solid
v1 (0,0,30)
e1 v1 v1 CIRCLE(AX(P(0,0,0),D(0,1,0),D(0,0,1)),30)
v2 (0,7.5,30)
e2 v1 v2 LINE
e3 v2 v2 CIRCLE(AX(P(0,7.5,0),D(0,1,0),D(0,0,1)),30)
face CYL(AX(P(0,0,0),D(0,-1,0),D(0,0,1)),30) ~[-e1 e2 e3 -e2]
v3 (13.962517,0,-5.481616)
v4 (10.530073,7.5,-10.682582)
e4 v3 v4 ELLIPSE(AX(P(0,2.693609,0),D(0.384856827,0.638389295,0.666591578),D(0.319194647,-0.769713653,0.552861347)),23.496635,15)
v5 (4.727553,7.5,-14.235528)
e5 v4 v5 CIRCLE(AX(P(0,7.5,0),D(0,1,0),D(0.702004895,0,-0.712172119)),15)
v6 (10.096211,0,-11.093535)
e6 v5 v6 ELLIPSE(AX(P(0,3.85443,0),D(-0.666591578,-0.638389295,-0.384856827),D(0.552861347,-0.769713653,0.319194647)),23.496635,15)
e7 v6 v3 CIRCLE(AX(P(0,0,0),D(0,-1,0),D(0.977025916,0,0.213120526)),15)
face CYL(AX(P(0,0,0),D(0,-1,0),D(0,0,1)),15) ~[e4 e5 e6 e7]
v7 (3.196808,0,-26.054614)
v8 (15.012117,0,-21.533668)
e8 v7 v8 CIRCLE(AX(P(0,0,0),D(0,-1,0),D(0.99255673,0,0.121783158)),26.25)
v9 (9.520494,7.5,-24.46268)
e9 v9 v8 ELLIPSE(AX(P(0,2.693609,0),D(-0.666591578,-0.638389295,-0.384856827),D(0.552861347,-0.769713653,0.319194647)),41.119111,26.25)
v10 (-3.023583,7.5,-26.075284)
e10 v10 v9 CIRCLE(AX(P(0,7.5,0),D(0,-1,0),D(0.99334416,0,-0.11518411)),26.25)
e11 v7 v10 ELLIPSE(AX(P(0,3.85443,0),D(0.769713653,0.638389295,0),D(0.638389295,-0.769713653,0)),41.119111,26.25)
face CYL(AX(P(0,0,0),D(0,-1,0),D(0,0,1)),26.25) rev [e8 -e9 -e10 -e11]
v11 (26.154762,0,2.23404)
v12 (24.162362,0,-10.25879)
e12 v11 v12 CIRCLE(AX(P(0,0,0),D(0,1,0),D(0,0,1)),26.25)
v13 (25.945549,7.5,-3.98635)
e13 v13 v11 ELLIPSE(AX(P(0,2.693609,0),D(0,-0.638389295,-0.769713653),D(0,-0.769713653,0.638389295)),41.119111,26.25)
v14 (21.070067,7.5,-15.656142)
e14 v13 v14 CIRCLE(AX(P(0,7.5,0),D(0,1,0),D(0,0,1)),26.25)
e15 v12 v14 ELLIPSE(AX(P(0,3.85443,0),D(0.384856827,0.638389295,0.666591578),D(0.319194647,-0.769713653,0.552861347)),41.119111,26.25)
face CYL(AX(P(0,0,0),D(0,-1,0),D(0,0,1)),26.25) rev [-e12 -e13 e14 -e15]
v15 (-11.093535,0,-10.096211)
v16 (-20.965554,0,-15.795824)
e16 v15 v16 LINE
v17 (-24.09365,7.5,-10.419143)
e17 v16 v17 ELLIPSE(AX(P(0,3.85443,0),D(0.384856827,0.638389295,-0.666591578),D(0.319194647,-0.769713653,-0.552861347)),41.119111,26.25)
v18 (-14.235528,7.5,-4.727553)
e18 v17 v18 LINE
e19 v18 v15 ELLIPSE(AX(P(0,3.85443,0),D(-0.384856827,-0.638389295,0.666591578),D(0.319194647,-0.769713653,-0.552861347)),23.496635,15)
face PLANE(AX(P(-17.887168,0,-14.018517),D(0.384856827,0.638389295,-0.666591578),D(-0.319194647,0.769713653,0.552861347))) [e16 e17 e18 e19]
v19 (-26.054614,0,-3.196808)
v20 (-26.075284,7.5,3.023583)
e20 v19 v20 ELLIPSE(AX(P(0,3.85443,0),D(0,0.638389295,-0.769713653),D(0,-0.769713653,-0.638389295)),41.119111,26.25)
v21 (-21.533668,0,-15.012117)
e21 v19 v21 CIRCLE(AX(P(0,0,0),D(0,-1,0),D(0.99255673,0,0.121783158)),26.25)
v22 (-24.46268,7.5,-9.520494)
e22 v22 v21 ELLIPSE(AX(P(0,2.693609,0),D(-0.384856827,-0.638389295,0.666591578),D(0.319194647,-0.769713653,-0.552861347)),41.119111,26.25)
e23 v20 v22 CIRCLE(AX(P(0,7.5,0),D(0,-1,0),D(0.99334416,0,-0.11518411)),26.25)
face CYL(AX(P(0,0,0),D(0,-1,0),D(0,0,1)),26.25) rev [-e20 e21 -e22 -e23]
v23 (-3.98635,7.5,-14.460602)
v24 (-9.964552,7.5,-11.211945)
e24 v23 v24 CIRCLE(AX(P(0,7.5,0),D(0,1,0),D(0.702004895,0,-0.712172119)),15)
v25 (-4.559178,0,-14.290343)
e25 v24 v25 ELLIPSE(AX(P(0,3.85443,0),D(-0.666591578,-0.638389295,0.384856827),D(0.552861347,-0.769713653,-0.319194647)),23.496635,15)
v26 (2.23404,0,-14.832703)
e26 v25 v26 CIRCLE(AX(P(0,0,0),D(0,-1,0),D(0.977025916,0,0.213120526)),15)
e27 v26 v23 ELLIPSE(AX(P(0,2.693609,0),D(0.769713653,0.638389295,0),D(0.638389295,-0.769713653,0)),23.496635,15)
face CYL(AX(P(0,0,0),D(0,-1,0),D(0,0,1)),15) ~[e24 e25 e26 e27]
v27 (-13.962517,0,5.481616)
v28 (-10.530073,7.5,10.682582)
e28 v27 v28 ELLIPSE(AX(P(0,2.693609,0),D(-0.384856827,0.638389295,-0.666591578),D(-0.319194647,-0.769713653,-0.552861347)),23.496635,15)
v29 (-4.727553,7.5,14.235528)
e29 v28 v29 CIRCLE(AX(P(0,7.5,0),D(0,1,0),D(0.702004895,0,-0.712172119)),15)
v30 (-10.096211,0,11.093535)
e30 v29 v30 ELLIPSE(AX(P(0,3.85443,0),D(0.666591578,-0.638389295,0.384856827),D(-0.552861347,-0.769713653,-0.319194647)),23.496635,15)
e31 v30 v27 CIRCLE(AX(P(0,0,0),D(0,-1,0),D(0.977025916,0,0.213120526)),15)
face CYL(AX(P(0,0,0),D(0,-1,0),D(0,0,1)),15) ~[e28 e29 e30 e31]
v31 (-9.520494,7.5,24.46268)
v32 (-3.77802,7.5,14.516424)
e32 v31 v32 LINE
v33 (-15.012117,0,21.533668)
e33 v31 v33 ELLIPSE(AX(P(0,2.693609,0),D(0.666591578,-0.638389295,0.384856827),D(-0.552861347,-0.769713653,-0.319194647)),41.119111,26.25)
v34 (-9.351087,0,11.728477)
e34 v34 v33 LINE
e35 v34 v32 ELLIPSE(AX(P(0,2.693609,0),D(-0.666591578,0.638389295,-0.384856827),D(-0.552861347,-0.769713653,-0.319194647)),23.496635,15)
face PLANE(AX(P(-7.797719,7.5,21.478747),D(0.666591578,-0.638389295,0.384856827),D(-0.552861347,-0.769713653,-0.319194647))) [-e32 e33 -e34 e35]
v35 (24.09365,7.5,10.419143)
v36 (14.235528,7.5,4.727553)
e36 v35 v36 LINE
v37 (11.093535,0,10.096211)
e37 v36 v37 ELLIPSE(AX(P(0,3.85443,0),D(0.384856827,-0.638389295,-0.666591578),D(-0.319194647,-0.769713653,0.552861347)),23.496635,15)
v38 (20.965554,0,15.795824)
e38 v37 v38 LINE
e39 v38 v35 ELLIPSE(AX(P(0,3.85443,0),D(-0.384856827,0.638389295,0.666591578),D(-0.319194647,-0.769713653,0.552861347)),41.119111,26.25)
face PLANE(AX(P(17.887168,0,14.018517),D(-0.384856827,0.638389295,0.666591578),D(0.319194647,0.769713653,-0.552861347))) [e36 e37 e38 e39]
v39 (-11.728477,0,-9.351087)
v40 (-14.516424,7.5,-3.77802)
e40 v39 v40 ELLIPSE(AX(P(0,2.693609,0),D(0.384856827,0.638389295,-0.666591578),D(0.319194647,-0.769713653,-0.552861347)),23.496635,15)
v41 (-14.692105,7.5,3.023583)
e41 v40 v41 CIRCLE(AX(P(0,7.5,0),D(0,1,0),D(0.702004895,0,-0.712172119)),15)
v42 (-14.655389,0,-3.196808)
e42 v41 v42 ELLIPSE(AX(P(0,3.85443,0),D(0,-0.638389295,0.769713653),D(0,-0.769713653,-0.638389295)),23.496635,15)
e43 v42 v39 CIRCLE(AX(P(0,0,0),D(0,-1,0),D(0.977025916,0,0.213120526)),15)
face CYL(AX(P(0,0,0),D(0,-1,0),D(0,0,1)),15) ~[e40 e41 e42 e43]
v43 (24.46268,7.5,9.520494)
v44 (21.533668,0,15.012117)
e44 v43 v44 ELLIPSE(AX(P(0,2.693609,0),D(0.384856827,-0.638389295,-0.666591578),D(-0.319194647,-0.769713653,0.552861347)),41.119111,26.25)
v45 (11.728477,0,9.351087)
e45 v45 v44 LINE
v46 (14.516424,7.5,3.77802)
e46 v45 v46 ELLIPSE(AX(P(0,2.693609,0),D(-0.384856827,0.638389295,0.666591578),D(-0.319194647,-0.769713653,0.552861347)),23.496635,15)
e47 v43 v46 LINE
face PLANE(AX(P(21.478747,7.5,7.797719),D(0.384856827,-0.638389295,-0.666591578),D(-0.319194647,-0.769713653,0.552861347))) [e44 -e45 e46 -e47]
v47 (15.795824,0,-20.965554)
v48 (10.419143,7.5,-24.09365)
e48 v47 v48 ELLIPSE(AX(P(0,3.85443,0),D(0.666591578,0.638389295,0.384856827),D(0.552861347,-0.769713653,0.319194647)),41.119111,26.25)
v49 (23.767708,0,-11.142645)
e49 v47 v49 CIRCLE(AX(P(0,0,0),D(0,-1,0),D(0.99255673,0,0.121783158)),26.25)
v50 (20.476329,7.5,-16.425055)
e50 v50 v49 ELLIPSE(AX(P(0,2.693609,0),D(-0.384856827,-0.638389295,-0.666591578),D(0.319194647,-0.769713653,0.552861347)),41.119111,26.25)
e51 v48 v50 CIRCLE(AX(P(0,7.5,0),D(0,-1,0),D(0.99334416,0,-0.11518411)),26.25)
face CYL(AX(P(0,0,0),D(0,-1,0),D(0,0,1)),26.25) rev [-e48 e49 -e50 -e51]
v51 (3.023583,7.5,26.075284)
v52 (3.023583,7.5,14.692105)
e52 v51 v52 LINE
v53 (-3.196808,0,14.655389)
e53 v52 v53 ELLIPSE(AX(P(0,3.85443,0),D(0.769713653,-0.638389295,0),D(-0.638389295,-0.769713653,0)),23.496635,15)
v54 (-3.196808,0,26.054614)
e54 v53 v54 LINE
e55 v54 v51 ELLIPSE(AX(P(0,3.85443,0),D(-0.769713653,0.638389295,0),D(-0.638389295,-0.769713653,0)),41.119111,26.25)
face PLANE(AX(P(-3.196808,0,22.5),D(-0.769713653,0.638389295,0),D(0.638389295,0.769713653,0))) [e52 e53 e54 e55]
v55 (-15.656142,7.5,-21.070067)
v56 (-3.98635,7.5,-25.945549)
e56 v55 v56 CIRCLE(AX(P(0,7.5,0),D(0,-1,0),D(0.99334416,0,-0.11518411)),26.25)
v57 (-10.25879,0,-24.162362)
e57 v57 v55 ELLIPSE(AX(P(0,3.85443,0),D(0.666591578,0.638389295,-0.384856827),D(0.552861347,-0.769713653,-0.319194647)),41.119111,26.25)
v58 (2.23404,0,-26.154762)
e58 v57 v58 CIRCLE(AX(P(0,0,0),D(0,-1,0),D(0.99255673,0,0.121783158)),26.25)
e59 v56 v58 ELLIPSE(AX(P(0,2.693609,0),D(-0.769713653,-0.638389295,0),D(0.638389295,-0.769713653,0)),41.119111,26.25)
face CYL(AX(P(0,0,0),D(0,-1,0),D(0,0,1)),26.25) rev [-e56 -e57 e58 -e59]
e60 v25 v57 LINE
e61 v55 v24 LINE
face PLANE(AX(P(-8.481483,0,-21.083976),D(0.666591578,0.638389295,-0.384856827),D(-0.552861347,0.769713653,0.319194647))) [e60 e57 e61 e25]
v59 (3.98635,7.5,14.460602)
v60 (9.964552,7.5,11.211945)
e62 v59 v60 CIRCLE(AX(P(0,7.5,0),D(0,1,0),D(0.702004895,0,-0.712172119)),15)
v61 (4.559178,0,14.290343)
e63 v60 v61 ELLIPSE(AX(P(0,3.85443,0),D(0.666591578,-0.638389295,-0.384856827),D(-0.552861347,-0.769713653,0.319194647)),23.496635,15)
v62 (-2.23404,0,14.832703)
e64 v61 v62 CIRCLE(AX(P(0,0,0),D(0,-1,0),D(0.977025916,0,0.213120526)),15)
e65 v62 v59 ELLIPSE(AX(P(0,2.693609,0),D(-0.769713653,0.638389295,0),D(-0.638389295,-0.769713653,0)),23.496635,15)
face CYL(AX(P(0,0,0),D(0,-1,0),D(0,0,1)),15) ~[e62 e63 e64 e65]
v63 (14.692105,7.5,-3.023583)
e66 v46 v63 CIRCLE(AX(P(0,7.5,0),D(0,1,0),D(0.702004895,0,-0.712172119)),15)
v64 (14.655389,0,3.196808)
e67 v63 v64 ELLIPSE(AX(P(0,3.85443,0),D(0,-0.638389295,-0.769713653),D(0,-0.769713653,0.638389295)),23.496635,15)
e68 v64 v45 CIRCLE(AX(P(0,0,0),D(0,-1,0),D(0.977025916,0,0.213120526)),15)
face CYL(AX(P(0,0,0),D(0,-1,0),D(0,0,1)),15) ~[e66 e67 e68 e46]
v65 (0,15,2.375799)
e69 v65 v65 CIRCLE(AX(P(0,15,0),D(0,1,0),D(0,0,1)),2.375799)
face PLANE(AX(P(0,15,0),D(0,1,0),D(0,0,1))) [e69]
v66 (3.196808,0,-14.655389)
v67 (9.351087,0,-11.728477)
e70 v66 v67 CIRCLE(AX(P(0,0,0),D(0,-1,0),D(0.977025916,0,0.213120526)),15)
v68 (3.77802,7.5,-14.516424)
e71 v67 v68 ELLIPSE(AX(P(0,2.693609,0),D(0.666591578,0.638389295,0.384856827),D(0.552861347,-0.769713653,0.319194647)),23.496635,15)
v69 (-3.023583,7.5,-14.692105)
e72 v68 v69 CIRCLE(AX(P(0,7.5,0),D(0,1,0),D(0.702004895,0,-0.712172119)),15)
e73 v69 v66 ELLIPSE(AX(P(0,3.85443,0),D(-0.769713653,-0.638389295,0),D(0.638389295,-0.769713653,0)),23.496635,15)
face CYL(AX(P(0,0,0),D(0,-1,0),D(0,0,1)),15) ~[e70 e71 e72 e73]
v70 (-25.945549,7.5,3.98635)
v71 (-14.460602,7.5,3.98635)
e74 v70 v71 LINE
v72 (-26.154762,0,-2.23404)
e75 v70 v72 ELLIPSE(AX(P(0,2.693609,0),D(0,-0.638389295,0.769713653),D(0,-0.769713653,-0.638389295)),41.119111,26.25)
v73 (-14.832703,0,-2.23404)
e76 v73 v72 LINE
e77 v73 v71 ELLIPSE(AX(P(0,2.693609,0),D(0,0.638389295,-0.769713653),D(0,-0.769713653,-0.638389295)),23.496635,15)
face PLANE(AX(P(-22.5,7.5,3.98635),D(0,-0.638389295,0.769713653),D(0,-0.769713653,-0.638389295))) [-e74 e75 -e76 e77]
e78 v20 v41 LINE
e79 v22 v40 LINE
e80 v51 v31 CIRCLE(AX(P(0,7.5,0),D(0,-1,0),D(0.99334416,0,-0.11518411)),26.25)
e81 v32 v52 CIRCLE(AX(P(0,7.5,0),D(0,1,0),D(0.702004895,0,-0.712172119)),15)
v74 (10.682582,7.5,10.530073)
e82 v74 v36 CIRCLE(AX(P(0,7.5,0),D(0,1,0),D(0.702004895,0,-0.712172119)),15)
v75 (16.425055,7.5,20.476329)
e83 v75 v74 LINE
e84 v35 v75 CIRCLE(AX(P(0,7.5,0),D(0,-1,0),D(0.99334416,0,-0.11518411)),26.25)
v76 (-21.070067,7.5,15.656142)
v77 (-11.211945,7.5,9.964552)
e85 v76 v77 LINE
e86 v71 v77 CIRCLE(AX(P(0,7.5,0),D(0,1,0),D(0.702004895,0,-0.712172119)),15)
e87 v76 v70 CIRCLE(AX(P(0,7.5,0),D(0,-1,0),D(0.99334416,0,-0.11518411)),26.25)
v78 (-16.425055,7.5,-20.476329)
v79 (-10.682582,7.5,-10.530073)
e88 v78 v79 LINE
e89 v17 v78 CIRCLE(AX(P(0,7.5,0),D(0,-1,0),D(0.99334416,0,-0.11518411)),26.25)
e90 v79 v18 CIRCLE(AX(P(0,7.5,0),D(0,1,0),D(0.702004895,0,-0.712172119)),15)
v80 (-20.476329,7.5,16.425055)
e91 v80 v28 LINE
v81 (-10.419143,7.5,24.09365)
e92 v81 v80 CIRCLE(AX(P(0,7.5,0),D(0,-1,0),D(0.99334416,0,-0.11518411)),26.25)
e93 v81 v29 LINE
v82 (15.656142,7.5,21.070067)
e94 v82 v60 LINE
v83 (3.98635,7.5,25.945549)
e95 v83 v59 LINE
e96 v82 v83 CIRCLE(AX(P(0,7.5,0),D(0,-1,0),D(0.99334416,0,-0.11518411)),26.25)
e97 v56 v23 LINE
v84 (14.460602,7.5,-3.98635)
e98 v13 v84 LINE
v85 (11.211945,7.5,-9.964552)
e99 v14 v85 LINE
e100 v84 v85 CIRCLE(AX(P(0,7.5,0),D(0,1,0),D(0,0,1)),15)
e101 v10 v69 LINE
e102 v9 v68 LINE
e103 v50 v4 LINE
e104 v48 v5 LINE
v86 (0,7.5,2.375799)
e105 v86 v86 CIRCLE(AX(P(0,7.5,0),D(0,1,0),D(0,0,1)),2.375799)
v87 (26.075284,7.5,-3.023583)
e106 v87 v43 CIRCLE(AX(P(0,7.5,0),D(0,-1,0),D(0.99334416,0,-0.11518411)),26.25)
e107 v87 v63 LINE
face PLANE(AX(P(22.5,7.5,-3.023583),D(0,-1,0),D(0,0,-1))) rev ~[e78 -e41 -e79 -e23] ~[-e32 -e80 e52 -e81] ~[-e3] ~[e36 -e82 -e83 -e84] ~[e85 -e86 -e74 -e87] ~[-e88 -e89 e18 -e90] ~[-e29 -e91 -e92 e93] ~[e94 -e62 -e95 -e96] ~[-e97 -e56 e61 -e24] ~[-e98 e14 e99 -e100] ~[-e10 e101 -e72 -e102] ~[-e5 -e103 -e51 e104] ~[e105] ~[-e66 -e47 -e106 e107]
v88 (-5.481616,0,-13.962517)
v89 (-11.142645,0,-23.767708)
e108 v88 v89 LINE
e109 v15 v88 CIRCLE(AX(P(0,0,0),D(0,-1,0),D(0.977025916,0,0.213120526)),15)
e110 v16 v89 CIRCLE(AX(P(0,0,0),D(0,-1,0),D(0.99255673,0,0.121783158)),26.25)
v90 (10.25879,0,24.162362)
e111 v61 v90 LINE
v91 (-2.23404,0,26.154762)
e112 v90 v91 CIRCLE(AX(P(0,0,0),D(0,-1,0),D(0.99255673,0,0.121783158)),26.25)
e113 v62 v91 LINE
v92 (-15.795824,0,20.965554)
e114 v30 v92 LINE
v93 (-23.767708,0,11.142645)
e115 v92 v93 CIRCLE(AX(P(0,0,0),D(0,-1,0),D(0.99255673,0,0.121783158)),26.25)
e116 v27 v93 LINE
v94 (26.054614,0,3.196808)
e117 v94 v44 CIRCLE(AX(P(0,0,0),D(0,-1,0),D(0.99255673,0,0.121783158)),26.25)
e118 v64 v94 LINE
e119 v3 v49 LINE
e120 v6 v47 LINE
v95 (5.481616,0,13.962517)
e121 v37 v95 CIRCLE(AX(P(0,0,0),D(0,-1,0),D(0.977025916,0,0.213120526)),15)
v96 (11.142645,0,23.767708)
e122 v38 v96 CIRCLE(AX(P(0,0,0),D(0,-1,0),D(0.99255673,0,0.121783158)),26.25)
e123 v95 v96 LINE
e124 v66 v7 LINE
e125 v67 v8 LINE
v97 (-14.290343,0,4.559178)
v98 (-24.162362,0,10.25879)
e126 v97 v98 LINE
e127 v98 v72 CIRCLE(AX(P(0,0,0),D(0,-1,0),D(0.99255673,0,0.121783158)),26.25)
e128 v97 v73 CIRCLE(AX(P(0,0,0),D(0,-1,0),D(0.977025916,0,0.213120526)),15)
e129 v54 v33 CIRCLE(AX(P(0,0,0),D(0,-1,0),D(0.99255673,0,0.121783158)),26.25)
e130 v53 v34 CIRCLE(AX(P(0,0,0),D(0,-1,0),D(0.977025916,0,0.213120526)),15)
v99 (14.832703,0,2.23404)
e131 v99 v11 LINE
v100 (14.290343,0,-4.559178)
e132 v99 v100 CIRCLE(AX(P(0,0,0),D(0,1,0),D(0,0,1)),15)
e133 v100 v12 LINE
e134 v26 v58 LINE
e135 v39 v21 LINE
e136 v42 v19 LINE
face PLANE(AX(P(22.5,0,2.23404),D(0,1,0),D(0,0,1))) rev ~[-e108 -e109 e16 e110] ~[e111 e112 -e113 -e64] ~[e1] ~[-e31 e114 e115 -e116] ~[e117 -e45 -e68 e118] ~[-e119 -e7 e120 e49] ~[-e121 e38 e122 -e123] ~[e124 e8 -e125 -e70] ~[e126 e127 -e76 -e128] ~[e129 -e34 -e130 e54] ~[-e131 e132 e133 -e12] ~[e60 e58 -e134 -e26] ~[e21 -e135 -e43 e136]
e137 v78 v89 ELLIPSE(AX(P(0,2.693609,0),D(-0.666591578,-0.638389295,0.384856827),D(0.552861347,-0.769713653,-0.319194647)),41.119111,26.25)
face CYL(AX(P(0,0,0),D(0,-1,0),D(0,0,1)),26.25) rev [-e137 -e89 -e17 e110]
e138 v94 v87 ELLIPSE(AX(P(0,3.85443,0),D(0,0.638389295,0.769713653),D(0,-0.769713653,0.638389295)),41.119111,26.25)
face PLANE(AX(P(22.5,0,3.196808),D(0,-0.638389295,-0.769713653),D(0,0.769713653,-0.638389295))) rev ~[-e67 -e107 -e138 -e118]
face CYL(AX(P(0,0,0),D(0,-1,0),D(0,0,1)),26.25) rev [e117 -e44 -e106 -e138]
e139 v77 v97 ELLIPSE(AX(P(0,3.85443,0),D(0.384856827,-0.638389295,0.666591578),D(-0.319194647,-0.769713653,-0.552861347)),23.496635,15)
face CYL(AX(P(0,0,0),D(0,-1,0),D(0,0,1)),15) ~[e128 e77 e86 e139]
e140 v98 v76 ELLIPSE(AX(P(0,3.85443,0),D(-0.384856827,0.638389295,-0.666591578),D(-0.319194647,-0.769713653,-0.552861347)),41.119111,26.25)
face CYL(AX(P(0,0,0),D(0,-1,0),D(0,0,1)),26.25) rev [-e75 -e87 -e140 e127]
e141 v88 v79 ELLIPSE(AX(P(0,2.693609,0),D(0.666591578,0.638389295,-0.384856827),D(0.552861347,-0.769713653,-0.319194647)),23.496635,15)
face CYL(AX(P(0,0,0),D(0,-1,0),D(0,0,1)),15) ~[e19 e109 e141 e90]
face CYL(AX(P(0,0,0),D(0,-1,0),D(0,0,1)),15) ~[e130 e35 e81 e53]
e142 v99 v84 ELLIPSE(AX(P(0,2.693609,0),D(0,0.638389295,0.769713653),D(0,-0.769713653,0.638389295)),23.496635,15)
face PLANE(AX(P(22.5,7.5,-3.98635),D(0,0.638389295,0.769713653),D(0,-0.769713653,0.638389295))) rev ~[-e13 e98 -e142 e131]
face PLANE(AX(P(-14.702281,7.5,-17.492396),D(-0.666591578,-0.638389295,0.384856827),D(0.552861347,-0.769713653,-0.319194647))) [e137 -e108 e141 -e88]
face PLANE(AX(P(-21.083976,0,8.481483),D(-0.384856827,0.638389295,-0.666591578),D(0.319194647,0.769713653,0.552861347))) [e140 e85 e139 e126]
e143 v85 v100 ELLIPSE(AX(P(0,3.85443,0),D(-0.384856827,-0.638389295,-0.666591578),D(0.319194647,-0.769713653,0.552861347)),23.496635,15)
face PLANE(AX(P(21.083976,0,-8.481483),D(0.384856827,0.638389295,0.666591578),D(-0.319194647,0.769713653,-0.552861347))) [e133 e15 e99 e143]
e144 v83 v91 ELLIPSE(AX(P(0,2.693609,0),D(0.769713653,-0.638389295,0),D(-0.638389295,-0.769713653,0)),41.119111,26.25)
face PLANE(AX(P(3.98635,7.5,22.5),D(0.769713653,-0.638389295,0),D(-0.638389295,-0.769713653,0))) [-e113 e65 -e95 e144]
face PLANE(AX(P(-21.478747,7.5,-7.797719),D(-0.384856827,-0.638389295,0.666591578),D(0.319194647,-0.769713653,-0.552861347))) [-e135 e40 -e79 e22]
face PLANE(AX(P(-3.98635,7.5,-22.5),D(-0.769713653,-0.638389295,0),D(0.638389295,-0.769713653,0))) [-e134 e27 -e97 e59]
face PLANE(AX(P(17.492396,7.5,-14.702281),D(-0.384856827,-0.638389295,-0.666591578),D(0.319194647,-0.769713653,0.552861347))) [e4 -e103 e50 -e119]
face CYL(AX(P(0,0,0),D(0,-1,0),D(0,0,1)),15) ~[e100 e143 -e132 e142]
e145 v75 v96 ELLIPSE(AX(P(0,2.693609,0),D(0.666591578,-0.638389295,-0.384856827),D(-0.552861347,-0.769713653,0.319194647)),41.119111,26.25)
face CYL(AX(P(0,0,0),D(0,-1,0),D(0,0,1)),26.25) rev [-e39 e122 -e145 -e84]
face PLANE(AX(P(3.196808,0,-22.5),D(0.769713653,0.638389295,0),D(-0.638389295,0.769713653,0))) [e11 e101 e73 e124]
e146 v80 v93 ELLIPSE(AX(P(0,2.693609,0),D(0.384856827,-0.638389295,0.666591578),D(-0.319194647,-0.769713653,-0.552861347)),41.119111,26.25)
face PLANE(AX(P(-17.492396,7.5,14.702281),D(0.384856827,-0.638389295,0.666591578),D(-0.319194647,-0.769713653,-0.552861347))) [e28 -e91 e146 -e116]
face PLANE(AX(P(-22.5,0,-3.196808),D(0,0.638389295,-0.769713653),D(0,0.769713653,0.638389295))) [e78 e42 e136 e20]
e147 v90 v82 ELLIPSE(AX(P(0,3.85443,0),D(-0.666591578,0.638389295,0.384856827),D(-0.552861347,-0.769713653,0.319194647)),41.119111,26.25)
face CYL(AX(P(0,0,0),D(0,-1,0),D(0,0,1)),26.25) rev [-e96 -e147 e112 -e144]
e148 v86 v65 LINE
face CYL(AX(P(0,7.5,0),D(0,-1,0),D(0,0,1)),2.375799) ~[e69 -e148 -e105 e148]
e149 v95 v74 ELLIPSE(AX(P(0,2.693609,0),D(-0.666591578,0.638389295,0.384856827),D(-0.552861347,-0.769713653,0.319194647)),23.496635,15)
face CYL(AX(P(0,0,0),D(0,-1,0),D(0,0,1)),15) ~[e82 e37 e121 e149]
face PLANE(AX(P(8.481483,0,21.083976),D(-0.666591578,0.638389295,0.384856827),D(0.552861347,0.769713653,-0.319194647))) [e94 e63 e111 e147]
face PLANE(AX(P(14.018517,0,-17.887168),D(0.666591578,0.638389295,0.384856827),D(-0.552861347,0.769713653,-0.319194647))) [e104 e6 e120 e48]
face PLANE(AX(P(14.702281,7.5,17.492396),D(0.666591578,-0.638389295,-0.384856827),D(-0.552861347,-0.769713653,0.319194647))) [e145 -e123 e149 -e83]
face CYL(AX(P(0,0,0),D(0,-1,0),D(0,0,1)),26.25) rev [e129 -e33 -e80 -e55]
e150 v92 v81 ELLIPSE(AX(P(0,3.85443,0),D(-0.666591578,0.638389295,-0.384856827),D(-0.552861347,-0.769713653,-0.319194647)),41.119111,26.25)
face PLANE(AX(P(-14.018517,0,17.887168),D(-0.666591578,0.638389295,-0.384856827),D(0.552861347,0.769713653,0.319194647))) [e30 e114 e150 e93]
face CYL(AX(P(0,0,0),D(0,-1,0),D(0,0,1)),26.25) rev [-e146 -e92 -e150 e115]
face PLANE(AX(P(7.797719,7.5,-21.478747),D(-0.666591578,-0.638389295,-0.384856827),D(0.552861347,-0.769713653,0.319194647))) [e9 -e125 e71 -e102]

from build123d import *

# Parameters (mm, degrees)
SKETCH1_R                            = 20
BOSS_EXTRUDE1_DEPTH                  = 10
SKETCH1_R_2                          = 40
SKETCH1_R_3                          = 35
BOSS_EXTRUDE1_2_DEPTH                = 10
BOSS_EXTRUDE2_REACH                  = 89.446
BOSS_EXTRUDE2_END_RADIUS             = 35
BOSS_EXTRUDE2_START                  = 30
BOSS_EXTRUDE2_DIRECTION_2_REACH      = 89.446
BOSS_EXTRUDE2_DIRECTION_2_END_RADIUS = 20
CIRPATTERN1_COUNT                    = 12
SKETCH5_R                            = 3.167731354
BOSS_EXTRUDE3_DEPTH                  = 10
SCALE1_SCALE                         = 0.75


with BuildPart() as part:
    # Sketch1 → Boss-Extrude1 (new body)
    with BuildSketch(Plane(origin=(0, 0, 0), x_dir=(1, 0, 0), z_dir=(0, 1, 0))):
        with Locations(Location((0, 0, 0), (0, 0, 270))):
            Circle(SKETCH1_R)
    extrude(amount=BOSS_EXTRUDE1_DEPTH)


with BuildPart() as body_2:
    # Sketch1 → Boss-Extrude1 2 (new body)
    with BuildSketch(Plane(origin=(0, 0, 0), x_dir=(1, 0, 0), z_dir=(0, 1, 0))):
        with Locations(Location((0, 0, 0), (0, 0, 270))):
            Circle(SKETCH1_R_2)
        with Locations(Location((0, 0, 0), (0, 0, 270))):
            Circle(SKETCH1_R_3, mode=Mode.SUBTRACT)
    extrude(amount=BOSS_EXTRUDE1_2_DEPTH)


    add(part.part)  # Boss-Extrude2 merges part
    # Boss-Extrude2: up to this cylinder (the profile starts inside it)
    boss_extrude2_end = Plane(origin=(0, 5, 0), z_dir=(0, -1, 0)) * Cylinder(BOSS_EXTRUDE2_END_RADIUS, 249.892, mode=Mode.PRIVATE)
    # Sketch4 → Boss-Extrude2 (add, up to the surface)
    with BuildSketch(Plane(origin=(0, 0, 0), x_dir=(0, 0, -1), z_dir=(1, 0, 0)).offset(BOSS_EXTRUDE2_START), mode=Mode.PRIVATE) as boss_extrude2_sk1:
        Polygon((-4.262410526, 0), (4.031443844, 10), (5.315133993, 10), (-2.978720377, 0), align=None)
    boss_extrude2_tool1 = extrude(boss_extrude2_sk1.sketch, amount=BOSS_EXTRUDE2_REACH, mode=Mode.PRIVATE) & boss_extrude2_end
    boss_extrude2 = boss_extrude2_tool1.solids().sort_by_distance((30, 5, -0.526362))[0]
    add(boss_extrude2)

    # Boss-Extrude2 direction 2: up to this cylinder (the profile starts outside it)
    boss_extrude2_direction_2_end = Plane(origin=(0, 5, 0), z_dir=(0, -1, 0)) * Cylinder(BOSS_EXTRUDE2_DIRECTION_2_END_RADIUS, 219.892, mode=Mode.PRIVATE)
    # Sketch4 → Boss-Extrude2 direction 2 (add, up to the surface)
    with BuildSketch(Plane(origin=(0, 0, 0), x_dir=(0, 0, -1), z_dir=(1, 0, 0)).offset(BOSS_EXTRUDE2_START), mode=Mode.PRIVATE) as boss_extrude2_direction_2_sk1:
        Polygon((-4.262410526, 0), (4.031443844, 10), (5.315133993, 10), (-2.978720377, 0), align=None)
    boss_extrude2_direction_2_tool1 = extrude(boss_extrude2_direction_2_sk1.sketch, amount=-BOSS_EXTRUDE2_DIRECTION_2_REACH, mode=Mode.PRIVATE) - boss_extrude2_direction_2_end
    boss_extrude2_direction_2 = boss_extrude2_direction_2_tool1.solids().sort_by_distance((30, 5, -0.526362))[0]
    add(boss_extrude2_direction_2)
    boss_extrude2 = boss_extrude2 + boss_extrude2_direction_2  # both directions under the feature's name, for the pattern or mirror that repeats it

    # CirPattern1: Boss-Extrude2 ×12 about axis
    cirpattern1_axis = Axis((0, 0, 0), (0, 1, 0))
    for i in range(1, CIRPATTERN1_COUNT):
        add(boss_extrude2.rotate(cirpattern1_axis, i * 360 / CIRPATTERN1_COUNT))

    # Sketch5 → Boss-Extrude3 (add)
    with BuildSketch(Plane(origin=(0, 10, 0), x_dir=(1, 0, 0), z_dir=(0, 1, 0))):
        with Locations(Location((0, 0, 0), (0, 0, 270))):
            Circle(SKETCH5_R)
    extrude(amount=BOSS_EXTRUDE3_DEPTH)


with BuildPart() as body_2_1:
    # Scale1: scaled about (0, 0, 0)
    add(body_2.part.scale(SCALE1_SCALE))


solid = body_2_1.part
